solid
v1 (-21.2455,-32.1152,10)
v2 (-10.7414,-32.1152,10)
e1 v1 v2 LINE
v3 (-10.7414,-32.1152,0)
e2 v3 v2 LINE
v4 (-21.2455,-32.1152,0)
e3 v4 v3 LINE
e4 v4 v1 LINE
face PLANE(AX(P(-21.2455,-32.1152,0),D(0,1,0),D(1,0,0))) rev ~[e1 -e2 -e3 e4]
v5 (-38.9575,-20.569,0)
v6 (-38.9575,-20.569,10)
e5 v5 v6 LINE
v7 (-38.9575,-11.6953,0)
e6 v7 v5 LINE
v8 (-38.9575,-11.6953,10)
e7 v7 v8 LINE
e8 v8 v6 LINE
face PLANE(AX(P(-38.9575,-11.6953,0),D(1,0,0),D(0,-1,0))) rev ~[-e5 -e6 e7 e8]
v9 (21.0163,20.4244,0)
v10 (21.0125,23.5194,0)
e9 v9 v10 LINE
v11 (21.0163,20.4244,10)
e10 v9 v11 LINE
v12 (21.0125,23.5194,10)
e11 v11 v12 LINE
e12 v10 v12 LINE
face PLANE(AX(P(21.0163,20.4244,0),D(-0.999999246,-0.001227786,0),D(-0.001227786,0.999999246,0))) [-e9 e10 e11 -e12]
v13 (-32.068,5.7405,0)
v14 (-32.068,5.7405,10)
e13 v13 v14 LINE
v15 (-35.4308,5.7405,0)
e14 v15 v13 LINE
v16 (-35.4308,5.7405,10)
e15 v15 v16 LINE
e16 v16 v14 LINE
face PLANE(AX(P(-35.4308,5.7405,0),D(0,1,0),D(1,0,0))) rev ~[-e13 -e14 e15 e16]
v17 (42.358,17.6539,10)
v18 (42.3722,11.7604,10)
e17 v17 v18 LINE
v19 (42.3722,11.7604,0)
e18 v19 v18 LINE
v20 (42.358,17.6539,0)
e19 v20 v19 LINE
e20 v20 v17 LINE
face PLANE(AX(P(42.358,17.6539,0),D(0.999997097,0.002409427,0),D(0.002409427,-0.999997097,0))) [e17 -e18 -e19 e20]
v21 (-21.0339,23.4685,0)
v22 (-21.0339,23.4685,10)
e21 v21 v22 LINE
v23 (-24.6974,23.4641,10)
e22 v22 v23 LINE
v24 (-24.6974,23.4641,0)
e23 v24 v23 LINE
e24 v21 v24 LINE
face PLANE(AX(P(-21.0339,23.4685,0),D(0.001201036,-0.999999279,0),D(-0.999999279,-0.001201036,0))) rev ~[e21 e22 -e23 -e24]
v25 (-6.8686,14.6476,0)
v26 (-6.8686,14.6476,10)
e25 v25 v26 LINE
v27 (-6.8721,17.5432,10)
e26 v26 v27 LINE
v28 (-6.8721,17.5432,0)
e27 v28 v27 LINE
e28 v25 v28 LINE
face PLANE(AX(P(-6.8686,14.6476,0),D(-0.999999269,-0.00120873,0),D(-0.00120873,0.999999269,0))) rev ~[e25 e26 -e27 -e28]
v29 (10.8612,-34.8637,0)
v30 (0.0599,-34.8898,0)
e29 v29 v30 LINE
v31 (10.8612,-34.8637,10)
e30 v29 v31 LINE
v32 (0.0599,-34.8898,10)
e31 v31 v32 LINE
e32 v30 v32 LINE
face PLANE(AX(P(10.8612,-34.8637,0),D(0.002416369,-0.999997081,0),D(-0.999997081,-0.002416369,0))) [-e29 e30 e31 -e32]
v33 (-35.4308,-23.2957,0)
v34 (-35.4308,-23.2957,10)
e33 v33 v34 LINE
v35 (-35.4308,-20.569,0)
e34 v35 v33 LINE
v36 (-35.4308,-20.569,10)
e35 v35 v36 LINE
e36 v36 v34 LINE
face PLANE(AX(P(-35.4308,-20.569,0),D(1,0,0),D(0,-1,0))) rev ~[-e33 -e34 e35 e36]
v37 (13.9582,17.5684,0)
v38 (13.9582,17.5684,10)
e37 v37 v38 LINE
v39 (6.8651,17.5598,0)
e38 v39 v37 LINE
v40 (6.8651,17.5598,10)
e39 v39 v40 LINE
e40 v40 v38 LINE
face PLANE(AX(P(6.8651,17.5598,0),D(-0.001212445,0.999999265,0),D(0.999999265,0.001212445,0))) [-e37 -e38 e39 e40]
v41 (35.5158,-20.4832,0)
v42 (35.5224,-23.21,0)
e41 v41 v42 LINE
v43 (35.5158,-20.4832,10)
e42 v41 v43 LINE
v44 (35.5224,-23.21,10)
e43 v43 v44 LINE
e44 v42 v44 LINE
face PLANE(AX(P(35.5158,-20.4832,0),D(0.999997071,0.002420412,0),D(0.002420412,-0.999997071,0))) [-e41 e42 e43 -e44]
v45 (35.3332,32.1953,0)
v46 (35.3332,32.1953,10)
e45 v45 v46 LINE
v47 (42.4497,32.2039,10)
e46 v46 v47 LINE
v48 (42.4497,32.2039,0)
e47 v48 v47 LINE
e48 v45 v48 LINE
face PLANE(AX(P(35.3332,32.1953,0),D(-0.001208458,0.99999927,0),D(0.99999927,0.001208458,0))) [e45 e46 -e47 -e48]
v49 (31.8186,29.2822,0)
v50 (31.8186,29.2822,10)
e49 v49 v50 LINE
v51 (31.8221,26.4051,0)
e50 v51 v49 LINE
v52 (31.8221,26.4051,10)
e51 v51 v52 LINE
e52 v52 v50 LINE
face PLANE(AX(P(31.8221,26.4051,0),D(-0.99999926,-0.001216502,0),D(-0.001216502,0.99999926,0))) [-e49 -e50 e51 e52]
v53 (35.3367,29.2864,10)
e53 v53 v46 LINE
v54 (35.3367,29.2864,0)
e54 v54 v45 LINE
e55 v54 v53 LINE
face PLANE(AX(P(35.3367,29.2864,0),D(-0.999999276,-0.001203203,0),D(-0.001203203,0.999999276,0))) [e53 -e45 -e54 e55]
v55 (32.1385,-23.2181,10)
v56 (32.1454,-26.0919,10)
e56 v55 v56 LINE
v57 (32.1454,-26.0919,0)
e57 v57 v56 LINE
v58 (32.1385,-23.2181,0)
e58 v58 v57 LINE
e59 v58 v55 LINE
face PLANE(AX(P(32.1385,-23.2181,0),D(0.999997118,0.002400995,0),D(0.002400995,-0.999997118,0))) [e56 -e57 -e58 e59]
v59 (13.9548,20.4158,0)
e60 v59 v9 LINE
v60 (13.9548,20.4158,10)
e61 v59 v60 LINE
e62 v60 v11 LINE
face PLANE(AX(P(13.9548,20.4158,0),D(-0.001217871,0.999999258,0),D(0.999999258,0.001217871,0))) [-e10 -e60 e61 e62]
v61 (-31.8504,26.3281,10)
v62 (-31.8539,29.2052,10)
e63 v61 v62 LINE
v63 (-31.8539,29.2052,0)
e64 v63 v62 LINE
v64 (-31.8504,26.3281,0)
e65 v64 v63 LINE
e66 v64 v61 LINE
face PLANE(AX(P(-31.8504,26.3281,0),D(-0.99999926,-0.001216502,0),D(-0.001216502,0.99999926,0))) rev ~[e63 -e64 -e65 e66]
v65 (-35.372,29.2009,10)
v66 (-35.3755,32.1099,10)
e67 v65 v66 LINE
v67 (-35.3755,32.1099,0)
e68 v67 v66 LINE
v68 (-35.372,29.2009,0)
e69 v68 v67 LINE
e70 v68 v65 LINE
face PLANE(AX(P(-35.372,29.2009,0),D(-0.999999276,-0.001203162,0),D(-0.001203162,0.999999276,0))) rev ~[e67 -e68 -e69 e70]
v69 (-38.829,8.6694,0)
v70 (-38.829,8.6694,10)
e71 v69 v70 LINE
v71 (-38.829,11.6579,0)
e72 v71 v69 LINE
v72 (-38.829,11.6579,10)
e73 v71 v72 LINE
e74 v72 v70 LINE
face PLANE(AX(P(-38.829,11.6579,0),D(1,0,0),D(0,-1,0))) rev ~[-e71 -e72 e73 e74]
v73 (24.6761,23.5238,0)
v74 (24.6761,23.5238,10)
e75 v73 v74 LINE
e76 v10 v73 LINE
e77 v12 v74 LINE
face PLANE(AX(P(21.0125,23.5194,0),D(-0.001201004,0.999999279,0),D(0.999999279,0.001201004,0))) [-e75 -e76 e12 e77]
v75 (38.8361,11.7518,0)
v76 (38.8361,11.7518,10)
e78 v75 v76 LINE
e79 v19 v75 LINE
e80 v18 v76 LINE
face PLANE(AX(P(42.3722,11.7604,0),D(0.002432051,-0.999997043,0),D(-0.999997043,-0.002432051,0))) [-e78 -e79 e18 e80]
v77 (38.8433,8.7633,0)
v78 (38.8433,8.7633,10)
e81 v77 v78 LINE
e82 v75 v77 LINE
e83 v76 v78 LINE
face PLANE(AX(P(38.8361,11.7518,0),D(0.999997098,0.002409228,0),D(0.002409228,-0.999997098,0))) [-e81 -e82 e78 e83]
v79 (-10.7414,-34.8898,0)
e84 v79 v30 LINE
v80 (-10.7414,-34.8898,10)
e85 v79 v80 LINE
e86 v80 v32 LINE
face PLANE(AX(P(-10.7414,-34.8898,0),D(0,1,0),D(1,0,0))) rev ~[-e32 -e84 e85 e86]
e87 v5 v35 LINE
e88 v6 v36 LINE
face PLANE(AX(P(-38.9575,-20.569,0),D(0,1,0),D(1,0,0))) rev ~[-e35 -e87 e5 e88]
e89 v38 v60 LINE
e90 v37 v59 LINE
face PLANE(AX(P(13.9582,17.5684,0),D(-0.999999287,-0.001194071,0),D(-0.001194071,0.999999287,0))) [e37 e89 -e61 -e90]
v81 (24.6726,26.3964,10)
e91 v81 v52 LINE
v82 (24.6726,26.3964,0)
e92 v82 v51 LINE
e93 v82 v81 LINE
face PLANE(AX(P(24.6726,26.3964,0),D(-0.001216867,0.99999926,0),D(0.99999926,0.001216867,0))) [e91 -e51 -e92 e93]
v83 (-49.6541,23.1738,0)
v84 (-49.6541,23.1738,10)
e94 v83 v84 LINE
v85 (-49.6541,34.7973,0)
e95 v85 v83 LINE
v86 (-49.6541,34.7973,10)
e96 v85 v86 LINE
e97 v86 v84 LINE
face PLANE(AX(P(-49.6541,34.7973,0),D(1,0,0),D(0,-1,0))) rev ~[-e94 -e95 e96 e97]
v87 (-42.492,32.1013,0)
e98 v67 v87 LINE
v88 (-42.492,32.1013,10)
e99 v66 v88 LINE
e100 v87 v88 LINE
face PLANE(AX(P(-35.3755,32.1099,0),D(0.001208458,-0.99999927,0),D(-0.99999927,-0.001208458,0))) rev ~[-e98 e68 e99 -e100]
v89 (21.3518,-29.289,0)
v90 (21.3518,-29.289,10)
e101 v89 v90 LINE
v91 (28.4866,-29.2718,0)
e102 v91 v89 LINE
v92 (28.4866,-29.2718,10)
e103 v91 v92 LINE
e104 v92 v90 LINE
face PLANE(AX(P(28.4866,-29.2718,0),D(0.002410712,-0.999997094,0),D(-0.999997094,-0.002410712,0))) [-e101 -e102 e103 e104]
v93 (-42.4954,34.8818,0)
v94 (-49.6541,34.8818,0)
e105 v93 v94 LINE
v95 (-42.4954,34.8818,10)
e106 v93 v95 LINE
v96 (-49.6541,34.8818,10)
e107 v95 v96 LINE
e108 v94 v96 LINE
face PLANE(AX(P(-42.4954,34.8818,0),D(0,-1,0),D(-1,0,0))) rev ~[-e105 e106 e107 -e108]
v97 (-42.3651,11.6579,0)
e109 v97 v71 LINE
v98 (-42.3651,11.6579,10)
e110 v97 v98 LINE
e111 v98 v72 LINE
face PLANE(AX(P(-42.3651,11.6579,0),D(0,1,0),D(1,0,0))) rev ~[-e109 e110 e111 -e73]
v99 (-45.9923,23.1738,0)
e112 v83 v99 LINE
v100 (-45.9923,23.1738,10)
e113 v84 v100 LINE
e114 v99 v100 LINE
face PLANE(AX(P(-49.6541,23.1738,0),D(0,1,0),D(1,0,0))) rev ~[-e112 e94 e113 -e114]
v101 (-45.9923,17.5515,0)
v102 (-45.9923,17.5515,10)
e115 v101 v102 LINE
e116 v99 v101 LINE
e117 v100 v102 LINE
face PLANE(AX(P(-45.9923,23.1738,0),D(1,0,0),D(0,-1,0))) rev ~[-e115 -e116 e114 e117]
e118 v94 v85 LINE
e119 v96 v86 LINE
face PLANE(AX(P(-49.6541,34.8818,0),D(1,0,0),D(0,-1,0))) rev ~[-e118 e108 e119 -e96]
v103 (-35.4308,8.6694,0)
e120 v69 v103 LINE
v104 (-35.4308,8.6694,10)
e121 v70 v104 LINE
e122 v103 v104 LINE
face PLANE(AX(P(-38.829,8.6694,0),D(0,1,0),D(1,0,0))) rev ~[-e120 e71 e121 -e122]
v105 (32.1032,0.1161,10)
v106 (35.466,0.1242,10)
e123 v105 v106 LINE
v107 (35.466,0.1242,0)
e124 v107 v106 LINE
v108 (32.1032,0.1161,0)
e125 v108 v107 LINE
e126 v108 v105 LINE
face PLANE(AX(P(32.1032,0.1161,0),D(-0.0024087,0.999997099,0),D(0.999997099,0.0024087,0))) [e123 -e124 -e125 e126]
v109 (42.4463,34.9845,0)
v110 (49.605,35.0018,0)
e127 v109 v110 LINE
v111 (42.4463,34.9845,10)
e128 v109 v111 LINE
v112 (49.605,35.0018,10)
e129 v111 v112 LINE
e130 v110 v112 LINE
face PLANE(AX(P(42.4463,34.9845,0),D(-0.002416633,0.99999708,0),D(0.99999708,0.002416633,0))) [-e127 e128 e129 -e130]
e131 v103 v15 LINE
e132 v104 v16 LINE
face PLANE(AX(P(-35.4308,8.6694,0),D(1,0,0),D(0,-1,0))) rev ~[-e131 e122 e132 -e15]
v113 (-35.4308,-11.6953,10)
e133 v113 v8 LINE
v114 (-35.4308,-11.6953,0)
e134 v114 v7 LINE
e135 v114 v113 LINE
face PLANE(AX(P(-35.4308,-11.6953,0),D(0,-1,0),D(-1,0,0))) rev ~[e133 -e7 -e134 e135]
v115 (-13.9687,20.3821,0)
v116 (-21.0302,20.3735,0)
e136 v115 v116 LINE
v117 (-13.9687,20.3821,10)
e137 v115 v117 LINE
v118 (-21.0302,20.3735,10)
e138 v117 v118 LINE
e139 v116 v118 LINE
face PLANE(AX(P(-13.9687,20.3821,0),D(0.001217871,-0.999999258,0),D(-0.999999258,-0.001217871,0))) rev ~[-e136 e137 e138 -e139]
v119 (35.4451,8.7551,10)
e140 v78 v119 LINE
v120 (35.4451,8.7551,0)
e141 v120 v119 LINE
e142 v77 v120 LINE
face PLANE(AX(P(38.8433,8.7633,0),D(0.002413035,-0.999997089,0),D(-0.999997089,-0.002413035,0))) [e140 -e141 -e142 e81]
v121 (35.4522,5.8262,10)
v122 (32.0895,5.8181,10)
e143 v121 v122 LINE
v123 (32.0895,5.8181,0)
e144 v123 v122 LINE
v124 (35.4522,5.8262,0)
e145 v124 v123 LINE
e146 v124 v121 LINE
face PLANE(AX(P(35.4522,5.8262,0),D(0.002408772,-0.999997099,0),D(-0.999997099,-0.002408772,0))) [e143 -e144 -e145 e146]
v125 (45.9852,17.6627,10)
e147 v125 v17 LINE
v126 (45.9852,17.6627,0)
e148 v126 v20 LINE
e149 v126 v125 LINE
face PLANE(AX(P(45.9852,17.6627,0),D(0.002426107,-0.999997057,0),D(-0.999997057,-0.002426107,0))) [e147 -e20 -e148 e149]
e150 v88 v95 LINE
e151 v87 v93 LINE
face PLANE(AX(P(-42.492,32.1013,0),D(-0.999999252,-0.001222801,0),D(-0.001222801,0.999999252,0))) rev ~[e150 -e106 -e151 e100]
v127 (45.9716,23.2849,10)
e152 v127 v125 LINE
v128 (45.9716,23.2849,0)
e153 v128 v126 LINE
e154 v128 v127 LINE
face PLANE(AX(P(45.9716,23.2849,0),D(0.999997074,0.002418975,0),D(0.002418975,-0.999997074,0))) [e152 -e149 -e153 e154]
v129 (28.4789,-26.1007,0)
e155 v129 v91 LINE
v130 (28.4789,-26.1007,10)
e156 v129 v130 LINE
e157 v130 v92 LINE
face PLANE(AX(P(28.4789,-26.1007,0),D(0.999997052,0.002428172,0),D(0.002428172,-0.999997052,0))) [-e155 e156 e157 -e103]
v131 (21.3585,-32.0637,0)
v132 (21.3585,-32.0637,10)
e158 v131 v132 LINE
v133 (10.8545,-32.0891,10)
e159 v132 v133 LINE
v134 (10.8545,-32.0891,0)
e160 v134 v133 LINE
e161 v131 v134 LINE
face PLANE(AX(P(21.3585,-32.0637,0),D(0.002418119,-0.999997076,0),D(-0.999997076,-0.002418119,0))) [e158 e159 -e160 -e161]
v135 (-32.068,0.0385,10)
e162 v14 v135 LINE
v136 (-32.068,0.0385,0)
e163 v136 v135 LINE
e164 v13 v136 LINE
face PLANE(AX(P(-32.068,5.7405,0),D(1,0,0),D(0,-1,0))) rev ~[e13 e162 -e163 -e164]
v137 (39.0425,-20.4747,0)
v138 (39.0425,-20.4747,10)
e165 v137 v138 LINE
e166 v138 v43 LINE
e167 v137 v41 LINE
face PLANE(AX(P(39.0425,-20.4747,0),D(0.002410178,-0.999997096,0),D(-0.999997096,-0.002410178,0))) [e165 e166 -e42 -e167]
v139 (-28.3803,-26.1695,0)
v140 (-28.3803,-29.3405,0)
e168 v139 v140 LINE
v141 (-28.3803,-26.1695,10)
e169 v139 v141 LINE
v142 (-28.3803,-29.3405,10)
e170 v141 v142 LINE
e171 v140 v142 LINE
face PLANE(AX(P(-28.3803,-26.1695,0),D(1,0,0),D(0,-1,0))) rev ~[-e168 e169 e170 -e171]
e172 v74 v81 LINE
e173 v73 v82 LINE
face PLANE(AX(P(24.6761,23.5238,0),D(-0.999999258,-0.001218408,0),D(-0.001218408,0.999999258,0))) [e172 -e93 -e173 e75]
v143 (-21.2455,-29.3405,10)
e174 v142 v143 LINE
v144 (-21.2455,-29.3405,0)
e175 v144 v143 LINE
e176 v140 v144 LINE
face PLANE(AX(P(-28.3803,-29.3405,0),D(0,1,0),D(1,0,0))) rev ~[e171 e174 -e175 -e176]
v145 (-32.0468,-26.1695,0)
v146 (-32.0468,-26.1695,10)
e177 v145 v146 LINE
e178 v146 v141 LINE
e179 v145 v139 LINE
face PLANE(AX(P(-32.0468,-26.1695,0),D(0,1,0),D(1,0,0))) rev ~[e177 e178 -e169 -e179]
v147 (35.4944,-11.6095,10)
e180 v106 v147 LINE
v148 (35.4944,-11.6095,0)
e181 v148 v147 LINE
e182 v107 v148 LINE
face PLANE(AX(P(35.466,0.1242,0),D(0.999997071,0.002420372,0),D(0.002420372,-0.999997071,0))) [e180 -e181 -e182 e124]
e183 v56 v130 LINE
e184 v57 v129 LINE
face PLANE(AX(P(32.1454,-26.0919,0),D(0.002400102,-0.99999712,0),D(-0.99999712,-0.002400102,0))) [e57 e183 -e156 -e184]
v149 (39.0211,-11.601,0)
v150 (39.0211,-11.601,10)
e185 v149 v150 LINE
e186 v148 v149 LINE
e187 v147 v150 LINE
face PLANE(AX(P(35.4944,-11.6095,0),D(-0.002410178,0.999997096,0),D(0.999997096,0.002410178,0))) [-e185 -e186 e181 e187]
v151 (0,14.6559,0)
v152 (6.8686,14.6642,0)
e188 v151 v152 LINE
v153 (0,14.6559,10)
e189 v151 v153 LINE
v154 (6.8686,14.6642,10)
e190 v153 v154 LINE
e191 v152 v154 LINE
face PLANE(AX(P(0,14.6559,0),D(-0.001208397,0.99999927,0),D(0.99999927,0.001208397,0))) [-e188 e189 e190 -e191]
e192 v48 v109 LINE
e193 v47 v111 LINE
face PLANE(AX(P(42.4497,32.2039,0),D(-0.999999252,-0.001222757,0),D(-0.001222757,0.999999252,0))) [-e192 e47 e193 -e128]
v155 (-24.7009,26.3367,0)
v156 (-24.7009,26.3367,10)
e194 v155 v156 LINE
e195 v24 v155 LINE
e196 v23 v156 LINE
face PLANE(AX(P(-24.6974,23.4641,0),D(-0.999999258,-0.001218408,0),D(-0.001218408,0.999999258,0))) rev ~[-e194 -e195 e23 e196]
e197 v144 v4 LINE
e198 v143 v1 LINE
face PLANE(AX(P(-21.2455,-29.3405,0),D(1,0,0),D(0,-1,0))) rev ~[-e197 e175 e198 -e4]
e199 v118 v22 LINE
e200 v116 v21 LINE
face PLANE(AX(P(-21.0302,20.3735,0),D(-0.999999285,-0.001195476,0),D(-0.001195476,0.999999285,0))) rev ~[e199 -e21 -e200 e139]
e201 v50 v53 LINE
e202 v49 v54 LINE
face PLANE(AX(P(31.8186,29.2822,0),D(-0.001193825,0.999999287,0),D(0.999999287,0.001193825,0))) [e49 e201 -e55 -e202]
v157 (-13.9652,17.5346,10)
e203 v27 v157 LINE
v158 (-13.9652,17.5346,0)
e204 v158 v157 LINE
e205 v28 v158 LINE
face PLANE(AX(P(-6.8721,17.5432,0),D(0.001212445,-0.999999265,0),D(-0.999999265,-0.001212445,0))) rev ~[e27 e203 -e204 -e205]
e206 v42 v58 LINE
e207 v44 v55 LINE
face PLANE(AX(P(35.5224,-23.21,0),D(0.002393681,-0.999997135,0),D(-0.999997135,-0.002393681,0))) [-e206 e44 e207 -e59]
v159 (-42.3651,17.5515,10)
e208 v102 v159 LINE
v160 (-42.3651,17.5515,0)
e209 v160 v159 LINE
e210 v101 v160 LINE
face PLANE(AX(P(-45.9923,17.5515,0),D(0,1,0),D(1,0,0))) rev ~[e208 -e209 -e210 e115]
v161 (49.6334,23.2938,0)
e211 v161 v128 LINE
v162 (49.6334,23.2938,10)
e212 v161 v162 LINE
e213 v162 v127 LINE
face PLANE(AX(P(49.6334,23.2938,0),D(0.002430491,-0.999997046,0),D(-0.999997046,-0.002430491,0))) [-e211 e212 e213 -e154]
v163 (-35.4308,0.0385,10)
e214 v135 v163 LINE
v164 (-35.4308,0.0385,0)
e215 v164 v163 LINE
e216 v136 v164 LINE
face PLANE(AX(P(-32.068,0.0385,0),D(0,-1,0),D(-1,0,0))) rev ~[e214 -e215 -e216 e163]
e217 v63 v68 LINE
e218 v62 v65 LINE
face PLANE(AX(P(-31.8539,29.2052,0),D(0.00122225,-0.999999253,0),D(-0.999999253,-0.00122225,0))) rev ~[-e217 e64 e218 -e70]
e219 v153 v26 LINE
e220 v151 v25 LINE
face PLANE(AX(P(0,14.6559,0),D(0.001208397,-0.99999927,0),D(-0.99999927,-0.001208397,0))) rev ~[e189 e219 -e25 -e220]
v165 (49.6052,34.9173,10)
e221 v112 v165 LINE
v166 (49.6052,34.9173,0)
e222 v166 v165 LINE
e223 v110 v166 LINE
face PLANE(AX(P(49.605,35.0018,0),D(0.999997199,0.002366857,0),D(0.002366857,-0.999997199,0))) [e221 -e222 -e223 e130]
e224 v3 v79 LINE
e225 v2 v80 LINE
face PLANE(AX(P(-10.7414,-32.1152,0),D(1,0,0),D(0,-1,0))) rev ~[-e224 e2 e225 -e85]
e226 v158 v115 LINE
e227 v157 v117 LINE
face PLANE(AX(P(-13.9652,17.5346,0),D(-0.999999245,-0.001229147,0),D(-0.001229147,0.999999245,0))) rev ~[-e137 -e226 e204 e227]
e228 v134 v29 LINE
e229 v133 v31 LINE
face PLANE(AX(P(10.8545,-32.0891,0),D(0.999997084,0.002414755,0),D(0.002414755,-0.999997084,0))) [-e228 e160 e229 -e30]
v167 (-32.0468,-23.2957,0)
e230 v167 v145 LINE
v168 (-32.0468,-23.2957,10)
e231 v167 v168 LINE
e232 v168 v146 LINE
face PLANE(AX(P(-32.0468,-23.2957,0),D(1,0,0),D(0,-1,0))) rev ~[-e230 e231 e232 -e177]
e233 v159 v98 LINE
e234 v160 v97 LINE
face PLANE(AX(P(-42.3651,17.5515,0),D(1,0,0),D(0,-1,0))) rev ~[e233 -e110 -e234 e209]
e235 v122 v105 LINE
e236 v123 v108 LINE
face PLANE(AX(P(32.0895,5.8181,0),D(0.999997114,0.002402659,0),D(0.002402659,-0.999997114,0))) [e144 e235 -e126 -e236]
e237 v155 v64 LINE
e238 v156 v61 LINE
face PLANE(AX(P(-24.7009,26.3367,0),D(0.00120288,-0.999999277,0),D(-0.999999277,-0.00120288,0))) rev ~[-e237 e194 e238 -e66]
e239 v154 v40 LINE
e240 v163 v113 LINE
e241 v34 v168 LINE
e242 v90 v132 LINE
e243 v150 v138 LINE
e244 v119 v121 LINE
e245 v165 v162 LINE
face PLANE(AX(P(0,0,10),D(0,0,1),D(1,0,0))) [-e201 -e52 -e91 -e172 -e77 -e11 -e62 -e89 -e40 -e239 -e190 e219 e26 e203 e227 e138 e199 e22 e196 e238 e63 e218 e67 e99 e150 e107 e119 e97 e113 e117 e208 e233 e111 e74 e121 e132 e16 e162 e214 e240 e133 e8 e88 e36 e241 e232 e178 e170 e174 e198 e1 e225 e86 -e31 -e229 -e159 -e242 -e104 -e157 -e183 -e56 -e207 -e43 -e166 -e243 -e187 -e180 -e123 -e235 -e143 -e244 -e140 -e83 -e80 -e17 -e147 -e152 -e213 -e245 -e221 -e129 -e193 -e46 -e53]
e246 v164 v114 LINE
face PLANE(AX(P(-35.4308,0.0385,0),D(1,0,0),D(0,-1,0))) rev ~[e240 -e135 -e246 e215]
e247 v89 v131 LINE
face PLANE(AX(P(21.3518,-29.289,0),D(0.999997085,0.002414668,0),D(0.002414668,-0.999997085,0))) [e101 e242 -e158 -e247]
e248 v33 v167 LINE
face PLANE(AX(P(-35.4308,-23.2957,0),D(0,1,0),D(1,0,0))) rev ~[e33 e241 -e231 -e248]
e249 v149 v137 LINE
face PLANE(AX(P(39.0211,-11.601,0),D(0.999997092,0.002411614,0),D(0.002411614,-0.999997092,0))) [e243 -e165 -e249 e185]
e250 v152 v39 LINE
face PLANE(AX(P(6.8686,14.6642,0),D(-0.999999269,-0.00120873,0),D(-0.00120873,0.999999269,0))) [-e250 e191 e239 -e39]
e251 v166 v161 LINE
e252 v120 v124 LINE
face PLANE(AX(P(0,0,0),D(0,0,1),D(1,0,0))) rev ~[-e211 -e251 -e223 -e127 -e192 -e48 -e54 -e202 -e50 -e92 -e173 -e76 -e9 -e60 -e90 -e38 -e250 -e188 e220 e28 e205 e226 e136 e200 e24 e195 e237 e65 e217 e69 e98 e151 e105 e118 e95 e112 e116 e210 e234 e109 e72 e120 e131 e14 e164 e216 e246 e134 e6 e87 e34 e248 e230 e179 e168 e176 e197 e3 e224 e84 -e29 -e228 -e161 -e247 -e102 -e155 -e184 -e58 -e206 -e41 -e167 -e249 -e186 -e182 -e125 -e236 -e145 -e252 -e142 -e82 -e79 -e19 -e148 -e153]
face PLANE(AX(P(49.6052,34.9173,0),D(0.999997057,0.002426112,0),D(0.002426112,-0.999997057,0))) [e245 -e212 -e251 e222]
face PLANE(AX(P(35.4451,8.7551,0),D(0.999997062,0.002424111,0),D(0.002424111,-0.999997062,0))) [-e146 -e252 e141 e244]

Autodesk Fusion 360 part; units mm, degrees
sketch "pik-sk" plane through (0, 0, 0) normal (0, 0, 1) x (1, 0, 0)
  line L0 (-49.6541, 34.7973) -> (-49.6541, 23.1738)
  line L1 (-49.6541, 23.1738) -> (-45.9923, 23.1738)
  line L2 (-45.9923, 23.1738) -> (-45.9923, 17.5515)
  line L3 (-45.9923, 17.5515) -> (-42.3651, 17.5515)
  line L4 (-42.3651, 17.5515) -> (-42.3651, 11.6579)
  line L5 (-42.3651, 11.6579) -> (-38.829, 11.6579)
  line L6 (-38.829, 11.6579) -> (-38.829, 8.6694)
  line L7 (-38.829, 8.6694) -> (-35.4308, 8.6694)
  line L8 (-35.4308, 8.6694) -> (-35.4308, 5.7405)
  line L9 (-35.4308, 5.7405) -> (-32.068, 5.7405)
  line L10 (-32.068, 5.7405) -> (-32.068, 0.0385)
  line L11 (-32.068, 0.0385) -> (-35.4308, 0.0385)
  line L12 (-35.4308, 0.0385) -> (-35.4308, -11.6953)
  line L13 (-35.4308, -11.6953) -> (-38.9575, -11.6953)
  line L14 (-38.9575, -11.6953) -> (-38.9575, -20.569)
  line L15 (-38.9575, -20.569) -> (-35.4308, -20.569)
  line L16 (-35.4308, -20.569) -> (-35.4308, -23.2957)
  line L17 (-35.4308, -23.2957) -> (-32.0468, -23.2957)
  line L18 (-32.0468, -23.2957) -> (-32.0468, -26.1695)
  line L19 (-32.0468, -26.1695) -> (-28.3803, -26.1695)
  line L20 (-28.3803, -26.1695) -> (-28.3803, -29.3405)
  line L21 (-28.3803, -29.3405) -> (-21.2455, -29.3405)
  line L22 (-21.2455, -29.3405) -> (-21.2455, -32.1152)
  line L23 (-21.2455, -32.1152) -> (-10.7414, -32.1152)
  line L24 (-10.7414, -32.1152) -> (-10.7414, -34.8898)
  line L25 (-10.7414, -34.8898) -> (0.0599, -34.8898)
  line L26 (0, 14.6559) -> (-6.8686, 14.6476)
  line L27 (-6.8686, 14.6476) -> (-6.8721, 17.5432)
  line L28 (-6.8721, 17.5432) -> (-13.9652, 17.5346)
  line L29 (-13.9652, 17.5346) -> (-13.9687, 20.3821)
  line L30 (-13.9687, 20.3821) -> (-21.0302, 20.3735)
  line L31 (-21.0302, 20.3735) -> (-21.0339, 23.4685)
  line L32 (-21.0339, 23.4685) -> (-24.6974, 23.4641)
  line L33 (-24.6974, 23.4641) -> (-24.7009, 26.3367)
  line L34 (-24.7009, 26.3367) -> (-31.8504, 26.3281)
  line L35 (-31.8504, 26.3281) -> (-31.8539, 29.2052)
  line L36 (-31.8539, 29.2052) -> (-35.372, 29.2009)
  line L37 (-35.372, 29.2009) -> (-35.3755, 32.1099)
  line L38 (-35.3755, 32.1099) -> (-42.492, 32.1013)
  line L39 (-42.492, 32.1013) -> (-42.4954, 34.8818)
  line L40 (-42.4954, 34.8818) -> (-49.6541, 34.8818)
  line L41 (-49.6541, 34.8818) -> (-49.6541, 34.7973)
  line L42 (32.0895, 5.8181) -> (32.1032, 0.1161)
  line L43 (35.4451, 8.7551) -> (35.4522, 5.8262)
  line L44 (42.358, 17.6539) -> (42.3722, 11.7604)
  line L45 (31.8186, 29.2822) -> (35.3367, 29.2864)
  line L46 (42.4463, 34.9845) -> (49.605, 35.0018)
  line L47 (21.0163, 20.4244) -> (21.0125, 23.5194)
  line L48 (31.8221, 26.4051) -> (31.8186, 29.2822)
  line L49 (24.6761, 23.5238) -> (24.6726, 26.3964)
  line L50 (42.4497, 32.2039) -> (42.4463, 34.9845)
  line L51 (6.8651, 17.5598) -> (13.9582, 17.5684)
  line L52 (13.9548, 20.4158) -> (21.0163, 20.4244)
  line L53 (0, 14.6559) -> (6.8686, 14.6642)
  line L54 (32.1454, -26.0919) -> (28.4789, -26.1007)
  line L55 (21.3518, -29.289) -> (21.3585, -32.0637)
  line L56 (35.5224, -23.21) -> (32.1385, -23.2181)
  line L57 (35.4944, -11.6095) -> (39.0211, -11.601)
  line L58 (6.8686, 14.6642) -> (6.8651, 17.5598)
  line L59 (35.4522, 5.8262) -> (32.0895, 5.8181)
  line L60 (21.0125, 23.5194) -> (24.6761, 23.5238)
  line L61 (35.3332, 32.1953) -> (42.4497, 32.2039)
  line L62 (42.3722, 11.7604) -> (38.8361, 11.7518)
  line L63 (45.9852, 17.6627) -> (42.358, 17.6539)
  line L64 (49.6052, 34.9173) -> (49.6334, 23.2938)
  line L65 (24.6726, 26.3964) -> (31.8221, 26.4051)
  line L66 (32.1032, 0.1161) -> (35.466, 0.1242)
  line L67 (28.4866, -29.2718) -> (21.3518, -29.289)
  line L68 (35.466, 0.1242) -> (35.4944, -11.6095)
  line L69 (38.8361, 11.7518) -> (38.8433, 8.7633)
  line L70 (38.8433, 8.7633) -> (35.4451, 8.7551)
  line L71 (10.8545, -32.0891) -> (10.8612, -34.8637)
  line L72 (49.605, 35.0018) -> (49.6052, 34.9173)
  line L73 (10.8612, -34.8637) -> (0.0599, -34.8898)
  line L74 (49.6334, 23.2938) -> (45.9716, 23.2849)
  line L75 (32.1385, -23.2181) -> (32.1454, -26.0919)
  line L76 (39.0211, -11.601) -> (39.0425, -20.4747)
  line L77 (35.5158, -20.4832) -> (35.5224, -23.21)
  line L78 (39.0425, -20.4747) -> (35.5158, -20.4832)
  line L79 (35.3367, 29.2864) -> (35.3332, 32.1953)
  line L80 (45.9716, 23.2849) -> (45.9852, 17.6627)
  line L81 (13.9582, 17.5684) -> (13.9548, 20.4158)
  line L82 (28.4789, -26.1007) -> (28.4866, -29.2718)
  line L83 (21.3585, -32.0637) -> (10.8545, -32.0891)
extrude "Extrude1" add sketch "pik-sk" along normal blind 10
